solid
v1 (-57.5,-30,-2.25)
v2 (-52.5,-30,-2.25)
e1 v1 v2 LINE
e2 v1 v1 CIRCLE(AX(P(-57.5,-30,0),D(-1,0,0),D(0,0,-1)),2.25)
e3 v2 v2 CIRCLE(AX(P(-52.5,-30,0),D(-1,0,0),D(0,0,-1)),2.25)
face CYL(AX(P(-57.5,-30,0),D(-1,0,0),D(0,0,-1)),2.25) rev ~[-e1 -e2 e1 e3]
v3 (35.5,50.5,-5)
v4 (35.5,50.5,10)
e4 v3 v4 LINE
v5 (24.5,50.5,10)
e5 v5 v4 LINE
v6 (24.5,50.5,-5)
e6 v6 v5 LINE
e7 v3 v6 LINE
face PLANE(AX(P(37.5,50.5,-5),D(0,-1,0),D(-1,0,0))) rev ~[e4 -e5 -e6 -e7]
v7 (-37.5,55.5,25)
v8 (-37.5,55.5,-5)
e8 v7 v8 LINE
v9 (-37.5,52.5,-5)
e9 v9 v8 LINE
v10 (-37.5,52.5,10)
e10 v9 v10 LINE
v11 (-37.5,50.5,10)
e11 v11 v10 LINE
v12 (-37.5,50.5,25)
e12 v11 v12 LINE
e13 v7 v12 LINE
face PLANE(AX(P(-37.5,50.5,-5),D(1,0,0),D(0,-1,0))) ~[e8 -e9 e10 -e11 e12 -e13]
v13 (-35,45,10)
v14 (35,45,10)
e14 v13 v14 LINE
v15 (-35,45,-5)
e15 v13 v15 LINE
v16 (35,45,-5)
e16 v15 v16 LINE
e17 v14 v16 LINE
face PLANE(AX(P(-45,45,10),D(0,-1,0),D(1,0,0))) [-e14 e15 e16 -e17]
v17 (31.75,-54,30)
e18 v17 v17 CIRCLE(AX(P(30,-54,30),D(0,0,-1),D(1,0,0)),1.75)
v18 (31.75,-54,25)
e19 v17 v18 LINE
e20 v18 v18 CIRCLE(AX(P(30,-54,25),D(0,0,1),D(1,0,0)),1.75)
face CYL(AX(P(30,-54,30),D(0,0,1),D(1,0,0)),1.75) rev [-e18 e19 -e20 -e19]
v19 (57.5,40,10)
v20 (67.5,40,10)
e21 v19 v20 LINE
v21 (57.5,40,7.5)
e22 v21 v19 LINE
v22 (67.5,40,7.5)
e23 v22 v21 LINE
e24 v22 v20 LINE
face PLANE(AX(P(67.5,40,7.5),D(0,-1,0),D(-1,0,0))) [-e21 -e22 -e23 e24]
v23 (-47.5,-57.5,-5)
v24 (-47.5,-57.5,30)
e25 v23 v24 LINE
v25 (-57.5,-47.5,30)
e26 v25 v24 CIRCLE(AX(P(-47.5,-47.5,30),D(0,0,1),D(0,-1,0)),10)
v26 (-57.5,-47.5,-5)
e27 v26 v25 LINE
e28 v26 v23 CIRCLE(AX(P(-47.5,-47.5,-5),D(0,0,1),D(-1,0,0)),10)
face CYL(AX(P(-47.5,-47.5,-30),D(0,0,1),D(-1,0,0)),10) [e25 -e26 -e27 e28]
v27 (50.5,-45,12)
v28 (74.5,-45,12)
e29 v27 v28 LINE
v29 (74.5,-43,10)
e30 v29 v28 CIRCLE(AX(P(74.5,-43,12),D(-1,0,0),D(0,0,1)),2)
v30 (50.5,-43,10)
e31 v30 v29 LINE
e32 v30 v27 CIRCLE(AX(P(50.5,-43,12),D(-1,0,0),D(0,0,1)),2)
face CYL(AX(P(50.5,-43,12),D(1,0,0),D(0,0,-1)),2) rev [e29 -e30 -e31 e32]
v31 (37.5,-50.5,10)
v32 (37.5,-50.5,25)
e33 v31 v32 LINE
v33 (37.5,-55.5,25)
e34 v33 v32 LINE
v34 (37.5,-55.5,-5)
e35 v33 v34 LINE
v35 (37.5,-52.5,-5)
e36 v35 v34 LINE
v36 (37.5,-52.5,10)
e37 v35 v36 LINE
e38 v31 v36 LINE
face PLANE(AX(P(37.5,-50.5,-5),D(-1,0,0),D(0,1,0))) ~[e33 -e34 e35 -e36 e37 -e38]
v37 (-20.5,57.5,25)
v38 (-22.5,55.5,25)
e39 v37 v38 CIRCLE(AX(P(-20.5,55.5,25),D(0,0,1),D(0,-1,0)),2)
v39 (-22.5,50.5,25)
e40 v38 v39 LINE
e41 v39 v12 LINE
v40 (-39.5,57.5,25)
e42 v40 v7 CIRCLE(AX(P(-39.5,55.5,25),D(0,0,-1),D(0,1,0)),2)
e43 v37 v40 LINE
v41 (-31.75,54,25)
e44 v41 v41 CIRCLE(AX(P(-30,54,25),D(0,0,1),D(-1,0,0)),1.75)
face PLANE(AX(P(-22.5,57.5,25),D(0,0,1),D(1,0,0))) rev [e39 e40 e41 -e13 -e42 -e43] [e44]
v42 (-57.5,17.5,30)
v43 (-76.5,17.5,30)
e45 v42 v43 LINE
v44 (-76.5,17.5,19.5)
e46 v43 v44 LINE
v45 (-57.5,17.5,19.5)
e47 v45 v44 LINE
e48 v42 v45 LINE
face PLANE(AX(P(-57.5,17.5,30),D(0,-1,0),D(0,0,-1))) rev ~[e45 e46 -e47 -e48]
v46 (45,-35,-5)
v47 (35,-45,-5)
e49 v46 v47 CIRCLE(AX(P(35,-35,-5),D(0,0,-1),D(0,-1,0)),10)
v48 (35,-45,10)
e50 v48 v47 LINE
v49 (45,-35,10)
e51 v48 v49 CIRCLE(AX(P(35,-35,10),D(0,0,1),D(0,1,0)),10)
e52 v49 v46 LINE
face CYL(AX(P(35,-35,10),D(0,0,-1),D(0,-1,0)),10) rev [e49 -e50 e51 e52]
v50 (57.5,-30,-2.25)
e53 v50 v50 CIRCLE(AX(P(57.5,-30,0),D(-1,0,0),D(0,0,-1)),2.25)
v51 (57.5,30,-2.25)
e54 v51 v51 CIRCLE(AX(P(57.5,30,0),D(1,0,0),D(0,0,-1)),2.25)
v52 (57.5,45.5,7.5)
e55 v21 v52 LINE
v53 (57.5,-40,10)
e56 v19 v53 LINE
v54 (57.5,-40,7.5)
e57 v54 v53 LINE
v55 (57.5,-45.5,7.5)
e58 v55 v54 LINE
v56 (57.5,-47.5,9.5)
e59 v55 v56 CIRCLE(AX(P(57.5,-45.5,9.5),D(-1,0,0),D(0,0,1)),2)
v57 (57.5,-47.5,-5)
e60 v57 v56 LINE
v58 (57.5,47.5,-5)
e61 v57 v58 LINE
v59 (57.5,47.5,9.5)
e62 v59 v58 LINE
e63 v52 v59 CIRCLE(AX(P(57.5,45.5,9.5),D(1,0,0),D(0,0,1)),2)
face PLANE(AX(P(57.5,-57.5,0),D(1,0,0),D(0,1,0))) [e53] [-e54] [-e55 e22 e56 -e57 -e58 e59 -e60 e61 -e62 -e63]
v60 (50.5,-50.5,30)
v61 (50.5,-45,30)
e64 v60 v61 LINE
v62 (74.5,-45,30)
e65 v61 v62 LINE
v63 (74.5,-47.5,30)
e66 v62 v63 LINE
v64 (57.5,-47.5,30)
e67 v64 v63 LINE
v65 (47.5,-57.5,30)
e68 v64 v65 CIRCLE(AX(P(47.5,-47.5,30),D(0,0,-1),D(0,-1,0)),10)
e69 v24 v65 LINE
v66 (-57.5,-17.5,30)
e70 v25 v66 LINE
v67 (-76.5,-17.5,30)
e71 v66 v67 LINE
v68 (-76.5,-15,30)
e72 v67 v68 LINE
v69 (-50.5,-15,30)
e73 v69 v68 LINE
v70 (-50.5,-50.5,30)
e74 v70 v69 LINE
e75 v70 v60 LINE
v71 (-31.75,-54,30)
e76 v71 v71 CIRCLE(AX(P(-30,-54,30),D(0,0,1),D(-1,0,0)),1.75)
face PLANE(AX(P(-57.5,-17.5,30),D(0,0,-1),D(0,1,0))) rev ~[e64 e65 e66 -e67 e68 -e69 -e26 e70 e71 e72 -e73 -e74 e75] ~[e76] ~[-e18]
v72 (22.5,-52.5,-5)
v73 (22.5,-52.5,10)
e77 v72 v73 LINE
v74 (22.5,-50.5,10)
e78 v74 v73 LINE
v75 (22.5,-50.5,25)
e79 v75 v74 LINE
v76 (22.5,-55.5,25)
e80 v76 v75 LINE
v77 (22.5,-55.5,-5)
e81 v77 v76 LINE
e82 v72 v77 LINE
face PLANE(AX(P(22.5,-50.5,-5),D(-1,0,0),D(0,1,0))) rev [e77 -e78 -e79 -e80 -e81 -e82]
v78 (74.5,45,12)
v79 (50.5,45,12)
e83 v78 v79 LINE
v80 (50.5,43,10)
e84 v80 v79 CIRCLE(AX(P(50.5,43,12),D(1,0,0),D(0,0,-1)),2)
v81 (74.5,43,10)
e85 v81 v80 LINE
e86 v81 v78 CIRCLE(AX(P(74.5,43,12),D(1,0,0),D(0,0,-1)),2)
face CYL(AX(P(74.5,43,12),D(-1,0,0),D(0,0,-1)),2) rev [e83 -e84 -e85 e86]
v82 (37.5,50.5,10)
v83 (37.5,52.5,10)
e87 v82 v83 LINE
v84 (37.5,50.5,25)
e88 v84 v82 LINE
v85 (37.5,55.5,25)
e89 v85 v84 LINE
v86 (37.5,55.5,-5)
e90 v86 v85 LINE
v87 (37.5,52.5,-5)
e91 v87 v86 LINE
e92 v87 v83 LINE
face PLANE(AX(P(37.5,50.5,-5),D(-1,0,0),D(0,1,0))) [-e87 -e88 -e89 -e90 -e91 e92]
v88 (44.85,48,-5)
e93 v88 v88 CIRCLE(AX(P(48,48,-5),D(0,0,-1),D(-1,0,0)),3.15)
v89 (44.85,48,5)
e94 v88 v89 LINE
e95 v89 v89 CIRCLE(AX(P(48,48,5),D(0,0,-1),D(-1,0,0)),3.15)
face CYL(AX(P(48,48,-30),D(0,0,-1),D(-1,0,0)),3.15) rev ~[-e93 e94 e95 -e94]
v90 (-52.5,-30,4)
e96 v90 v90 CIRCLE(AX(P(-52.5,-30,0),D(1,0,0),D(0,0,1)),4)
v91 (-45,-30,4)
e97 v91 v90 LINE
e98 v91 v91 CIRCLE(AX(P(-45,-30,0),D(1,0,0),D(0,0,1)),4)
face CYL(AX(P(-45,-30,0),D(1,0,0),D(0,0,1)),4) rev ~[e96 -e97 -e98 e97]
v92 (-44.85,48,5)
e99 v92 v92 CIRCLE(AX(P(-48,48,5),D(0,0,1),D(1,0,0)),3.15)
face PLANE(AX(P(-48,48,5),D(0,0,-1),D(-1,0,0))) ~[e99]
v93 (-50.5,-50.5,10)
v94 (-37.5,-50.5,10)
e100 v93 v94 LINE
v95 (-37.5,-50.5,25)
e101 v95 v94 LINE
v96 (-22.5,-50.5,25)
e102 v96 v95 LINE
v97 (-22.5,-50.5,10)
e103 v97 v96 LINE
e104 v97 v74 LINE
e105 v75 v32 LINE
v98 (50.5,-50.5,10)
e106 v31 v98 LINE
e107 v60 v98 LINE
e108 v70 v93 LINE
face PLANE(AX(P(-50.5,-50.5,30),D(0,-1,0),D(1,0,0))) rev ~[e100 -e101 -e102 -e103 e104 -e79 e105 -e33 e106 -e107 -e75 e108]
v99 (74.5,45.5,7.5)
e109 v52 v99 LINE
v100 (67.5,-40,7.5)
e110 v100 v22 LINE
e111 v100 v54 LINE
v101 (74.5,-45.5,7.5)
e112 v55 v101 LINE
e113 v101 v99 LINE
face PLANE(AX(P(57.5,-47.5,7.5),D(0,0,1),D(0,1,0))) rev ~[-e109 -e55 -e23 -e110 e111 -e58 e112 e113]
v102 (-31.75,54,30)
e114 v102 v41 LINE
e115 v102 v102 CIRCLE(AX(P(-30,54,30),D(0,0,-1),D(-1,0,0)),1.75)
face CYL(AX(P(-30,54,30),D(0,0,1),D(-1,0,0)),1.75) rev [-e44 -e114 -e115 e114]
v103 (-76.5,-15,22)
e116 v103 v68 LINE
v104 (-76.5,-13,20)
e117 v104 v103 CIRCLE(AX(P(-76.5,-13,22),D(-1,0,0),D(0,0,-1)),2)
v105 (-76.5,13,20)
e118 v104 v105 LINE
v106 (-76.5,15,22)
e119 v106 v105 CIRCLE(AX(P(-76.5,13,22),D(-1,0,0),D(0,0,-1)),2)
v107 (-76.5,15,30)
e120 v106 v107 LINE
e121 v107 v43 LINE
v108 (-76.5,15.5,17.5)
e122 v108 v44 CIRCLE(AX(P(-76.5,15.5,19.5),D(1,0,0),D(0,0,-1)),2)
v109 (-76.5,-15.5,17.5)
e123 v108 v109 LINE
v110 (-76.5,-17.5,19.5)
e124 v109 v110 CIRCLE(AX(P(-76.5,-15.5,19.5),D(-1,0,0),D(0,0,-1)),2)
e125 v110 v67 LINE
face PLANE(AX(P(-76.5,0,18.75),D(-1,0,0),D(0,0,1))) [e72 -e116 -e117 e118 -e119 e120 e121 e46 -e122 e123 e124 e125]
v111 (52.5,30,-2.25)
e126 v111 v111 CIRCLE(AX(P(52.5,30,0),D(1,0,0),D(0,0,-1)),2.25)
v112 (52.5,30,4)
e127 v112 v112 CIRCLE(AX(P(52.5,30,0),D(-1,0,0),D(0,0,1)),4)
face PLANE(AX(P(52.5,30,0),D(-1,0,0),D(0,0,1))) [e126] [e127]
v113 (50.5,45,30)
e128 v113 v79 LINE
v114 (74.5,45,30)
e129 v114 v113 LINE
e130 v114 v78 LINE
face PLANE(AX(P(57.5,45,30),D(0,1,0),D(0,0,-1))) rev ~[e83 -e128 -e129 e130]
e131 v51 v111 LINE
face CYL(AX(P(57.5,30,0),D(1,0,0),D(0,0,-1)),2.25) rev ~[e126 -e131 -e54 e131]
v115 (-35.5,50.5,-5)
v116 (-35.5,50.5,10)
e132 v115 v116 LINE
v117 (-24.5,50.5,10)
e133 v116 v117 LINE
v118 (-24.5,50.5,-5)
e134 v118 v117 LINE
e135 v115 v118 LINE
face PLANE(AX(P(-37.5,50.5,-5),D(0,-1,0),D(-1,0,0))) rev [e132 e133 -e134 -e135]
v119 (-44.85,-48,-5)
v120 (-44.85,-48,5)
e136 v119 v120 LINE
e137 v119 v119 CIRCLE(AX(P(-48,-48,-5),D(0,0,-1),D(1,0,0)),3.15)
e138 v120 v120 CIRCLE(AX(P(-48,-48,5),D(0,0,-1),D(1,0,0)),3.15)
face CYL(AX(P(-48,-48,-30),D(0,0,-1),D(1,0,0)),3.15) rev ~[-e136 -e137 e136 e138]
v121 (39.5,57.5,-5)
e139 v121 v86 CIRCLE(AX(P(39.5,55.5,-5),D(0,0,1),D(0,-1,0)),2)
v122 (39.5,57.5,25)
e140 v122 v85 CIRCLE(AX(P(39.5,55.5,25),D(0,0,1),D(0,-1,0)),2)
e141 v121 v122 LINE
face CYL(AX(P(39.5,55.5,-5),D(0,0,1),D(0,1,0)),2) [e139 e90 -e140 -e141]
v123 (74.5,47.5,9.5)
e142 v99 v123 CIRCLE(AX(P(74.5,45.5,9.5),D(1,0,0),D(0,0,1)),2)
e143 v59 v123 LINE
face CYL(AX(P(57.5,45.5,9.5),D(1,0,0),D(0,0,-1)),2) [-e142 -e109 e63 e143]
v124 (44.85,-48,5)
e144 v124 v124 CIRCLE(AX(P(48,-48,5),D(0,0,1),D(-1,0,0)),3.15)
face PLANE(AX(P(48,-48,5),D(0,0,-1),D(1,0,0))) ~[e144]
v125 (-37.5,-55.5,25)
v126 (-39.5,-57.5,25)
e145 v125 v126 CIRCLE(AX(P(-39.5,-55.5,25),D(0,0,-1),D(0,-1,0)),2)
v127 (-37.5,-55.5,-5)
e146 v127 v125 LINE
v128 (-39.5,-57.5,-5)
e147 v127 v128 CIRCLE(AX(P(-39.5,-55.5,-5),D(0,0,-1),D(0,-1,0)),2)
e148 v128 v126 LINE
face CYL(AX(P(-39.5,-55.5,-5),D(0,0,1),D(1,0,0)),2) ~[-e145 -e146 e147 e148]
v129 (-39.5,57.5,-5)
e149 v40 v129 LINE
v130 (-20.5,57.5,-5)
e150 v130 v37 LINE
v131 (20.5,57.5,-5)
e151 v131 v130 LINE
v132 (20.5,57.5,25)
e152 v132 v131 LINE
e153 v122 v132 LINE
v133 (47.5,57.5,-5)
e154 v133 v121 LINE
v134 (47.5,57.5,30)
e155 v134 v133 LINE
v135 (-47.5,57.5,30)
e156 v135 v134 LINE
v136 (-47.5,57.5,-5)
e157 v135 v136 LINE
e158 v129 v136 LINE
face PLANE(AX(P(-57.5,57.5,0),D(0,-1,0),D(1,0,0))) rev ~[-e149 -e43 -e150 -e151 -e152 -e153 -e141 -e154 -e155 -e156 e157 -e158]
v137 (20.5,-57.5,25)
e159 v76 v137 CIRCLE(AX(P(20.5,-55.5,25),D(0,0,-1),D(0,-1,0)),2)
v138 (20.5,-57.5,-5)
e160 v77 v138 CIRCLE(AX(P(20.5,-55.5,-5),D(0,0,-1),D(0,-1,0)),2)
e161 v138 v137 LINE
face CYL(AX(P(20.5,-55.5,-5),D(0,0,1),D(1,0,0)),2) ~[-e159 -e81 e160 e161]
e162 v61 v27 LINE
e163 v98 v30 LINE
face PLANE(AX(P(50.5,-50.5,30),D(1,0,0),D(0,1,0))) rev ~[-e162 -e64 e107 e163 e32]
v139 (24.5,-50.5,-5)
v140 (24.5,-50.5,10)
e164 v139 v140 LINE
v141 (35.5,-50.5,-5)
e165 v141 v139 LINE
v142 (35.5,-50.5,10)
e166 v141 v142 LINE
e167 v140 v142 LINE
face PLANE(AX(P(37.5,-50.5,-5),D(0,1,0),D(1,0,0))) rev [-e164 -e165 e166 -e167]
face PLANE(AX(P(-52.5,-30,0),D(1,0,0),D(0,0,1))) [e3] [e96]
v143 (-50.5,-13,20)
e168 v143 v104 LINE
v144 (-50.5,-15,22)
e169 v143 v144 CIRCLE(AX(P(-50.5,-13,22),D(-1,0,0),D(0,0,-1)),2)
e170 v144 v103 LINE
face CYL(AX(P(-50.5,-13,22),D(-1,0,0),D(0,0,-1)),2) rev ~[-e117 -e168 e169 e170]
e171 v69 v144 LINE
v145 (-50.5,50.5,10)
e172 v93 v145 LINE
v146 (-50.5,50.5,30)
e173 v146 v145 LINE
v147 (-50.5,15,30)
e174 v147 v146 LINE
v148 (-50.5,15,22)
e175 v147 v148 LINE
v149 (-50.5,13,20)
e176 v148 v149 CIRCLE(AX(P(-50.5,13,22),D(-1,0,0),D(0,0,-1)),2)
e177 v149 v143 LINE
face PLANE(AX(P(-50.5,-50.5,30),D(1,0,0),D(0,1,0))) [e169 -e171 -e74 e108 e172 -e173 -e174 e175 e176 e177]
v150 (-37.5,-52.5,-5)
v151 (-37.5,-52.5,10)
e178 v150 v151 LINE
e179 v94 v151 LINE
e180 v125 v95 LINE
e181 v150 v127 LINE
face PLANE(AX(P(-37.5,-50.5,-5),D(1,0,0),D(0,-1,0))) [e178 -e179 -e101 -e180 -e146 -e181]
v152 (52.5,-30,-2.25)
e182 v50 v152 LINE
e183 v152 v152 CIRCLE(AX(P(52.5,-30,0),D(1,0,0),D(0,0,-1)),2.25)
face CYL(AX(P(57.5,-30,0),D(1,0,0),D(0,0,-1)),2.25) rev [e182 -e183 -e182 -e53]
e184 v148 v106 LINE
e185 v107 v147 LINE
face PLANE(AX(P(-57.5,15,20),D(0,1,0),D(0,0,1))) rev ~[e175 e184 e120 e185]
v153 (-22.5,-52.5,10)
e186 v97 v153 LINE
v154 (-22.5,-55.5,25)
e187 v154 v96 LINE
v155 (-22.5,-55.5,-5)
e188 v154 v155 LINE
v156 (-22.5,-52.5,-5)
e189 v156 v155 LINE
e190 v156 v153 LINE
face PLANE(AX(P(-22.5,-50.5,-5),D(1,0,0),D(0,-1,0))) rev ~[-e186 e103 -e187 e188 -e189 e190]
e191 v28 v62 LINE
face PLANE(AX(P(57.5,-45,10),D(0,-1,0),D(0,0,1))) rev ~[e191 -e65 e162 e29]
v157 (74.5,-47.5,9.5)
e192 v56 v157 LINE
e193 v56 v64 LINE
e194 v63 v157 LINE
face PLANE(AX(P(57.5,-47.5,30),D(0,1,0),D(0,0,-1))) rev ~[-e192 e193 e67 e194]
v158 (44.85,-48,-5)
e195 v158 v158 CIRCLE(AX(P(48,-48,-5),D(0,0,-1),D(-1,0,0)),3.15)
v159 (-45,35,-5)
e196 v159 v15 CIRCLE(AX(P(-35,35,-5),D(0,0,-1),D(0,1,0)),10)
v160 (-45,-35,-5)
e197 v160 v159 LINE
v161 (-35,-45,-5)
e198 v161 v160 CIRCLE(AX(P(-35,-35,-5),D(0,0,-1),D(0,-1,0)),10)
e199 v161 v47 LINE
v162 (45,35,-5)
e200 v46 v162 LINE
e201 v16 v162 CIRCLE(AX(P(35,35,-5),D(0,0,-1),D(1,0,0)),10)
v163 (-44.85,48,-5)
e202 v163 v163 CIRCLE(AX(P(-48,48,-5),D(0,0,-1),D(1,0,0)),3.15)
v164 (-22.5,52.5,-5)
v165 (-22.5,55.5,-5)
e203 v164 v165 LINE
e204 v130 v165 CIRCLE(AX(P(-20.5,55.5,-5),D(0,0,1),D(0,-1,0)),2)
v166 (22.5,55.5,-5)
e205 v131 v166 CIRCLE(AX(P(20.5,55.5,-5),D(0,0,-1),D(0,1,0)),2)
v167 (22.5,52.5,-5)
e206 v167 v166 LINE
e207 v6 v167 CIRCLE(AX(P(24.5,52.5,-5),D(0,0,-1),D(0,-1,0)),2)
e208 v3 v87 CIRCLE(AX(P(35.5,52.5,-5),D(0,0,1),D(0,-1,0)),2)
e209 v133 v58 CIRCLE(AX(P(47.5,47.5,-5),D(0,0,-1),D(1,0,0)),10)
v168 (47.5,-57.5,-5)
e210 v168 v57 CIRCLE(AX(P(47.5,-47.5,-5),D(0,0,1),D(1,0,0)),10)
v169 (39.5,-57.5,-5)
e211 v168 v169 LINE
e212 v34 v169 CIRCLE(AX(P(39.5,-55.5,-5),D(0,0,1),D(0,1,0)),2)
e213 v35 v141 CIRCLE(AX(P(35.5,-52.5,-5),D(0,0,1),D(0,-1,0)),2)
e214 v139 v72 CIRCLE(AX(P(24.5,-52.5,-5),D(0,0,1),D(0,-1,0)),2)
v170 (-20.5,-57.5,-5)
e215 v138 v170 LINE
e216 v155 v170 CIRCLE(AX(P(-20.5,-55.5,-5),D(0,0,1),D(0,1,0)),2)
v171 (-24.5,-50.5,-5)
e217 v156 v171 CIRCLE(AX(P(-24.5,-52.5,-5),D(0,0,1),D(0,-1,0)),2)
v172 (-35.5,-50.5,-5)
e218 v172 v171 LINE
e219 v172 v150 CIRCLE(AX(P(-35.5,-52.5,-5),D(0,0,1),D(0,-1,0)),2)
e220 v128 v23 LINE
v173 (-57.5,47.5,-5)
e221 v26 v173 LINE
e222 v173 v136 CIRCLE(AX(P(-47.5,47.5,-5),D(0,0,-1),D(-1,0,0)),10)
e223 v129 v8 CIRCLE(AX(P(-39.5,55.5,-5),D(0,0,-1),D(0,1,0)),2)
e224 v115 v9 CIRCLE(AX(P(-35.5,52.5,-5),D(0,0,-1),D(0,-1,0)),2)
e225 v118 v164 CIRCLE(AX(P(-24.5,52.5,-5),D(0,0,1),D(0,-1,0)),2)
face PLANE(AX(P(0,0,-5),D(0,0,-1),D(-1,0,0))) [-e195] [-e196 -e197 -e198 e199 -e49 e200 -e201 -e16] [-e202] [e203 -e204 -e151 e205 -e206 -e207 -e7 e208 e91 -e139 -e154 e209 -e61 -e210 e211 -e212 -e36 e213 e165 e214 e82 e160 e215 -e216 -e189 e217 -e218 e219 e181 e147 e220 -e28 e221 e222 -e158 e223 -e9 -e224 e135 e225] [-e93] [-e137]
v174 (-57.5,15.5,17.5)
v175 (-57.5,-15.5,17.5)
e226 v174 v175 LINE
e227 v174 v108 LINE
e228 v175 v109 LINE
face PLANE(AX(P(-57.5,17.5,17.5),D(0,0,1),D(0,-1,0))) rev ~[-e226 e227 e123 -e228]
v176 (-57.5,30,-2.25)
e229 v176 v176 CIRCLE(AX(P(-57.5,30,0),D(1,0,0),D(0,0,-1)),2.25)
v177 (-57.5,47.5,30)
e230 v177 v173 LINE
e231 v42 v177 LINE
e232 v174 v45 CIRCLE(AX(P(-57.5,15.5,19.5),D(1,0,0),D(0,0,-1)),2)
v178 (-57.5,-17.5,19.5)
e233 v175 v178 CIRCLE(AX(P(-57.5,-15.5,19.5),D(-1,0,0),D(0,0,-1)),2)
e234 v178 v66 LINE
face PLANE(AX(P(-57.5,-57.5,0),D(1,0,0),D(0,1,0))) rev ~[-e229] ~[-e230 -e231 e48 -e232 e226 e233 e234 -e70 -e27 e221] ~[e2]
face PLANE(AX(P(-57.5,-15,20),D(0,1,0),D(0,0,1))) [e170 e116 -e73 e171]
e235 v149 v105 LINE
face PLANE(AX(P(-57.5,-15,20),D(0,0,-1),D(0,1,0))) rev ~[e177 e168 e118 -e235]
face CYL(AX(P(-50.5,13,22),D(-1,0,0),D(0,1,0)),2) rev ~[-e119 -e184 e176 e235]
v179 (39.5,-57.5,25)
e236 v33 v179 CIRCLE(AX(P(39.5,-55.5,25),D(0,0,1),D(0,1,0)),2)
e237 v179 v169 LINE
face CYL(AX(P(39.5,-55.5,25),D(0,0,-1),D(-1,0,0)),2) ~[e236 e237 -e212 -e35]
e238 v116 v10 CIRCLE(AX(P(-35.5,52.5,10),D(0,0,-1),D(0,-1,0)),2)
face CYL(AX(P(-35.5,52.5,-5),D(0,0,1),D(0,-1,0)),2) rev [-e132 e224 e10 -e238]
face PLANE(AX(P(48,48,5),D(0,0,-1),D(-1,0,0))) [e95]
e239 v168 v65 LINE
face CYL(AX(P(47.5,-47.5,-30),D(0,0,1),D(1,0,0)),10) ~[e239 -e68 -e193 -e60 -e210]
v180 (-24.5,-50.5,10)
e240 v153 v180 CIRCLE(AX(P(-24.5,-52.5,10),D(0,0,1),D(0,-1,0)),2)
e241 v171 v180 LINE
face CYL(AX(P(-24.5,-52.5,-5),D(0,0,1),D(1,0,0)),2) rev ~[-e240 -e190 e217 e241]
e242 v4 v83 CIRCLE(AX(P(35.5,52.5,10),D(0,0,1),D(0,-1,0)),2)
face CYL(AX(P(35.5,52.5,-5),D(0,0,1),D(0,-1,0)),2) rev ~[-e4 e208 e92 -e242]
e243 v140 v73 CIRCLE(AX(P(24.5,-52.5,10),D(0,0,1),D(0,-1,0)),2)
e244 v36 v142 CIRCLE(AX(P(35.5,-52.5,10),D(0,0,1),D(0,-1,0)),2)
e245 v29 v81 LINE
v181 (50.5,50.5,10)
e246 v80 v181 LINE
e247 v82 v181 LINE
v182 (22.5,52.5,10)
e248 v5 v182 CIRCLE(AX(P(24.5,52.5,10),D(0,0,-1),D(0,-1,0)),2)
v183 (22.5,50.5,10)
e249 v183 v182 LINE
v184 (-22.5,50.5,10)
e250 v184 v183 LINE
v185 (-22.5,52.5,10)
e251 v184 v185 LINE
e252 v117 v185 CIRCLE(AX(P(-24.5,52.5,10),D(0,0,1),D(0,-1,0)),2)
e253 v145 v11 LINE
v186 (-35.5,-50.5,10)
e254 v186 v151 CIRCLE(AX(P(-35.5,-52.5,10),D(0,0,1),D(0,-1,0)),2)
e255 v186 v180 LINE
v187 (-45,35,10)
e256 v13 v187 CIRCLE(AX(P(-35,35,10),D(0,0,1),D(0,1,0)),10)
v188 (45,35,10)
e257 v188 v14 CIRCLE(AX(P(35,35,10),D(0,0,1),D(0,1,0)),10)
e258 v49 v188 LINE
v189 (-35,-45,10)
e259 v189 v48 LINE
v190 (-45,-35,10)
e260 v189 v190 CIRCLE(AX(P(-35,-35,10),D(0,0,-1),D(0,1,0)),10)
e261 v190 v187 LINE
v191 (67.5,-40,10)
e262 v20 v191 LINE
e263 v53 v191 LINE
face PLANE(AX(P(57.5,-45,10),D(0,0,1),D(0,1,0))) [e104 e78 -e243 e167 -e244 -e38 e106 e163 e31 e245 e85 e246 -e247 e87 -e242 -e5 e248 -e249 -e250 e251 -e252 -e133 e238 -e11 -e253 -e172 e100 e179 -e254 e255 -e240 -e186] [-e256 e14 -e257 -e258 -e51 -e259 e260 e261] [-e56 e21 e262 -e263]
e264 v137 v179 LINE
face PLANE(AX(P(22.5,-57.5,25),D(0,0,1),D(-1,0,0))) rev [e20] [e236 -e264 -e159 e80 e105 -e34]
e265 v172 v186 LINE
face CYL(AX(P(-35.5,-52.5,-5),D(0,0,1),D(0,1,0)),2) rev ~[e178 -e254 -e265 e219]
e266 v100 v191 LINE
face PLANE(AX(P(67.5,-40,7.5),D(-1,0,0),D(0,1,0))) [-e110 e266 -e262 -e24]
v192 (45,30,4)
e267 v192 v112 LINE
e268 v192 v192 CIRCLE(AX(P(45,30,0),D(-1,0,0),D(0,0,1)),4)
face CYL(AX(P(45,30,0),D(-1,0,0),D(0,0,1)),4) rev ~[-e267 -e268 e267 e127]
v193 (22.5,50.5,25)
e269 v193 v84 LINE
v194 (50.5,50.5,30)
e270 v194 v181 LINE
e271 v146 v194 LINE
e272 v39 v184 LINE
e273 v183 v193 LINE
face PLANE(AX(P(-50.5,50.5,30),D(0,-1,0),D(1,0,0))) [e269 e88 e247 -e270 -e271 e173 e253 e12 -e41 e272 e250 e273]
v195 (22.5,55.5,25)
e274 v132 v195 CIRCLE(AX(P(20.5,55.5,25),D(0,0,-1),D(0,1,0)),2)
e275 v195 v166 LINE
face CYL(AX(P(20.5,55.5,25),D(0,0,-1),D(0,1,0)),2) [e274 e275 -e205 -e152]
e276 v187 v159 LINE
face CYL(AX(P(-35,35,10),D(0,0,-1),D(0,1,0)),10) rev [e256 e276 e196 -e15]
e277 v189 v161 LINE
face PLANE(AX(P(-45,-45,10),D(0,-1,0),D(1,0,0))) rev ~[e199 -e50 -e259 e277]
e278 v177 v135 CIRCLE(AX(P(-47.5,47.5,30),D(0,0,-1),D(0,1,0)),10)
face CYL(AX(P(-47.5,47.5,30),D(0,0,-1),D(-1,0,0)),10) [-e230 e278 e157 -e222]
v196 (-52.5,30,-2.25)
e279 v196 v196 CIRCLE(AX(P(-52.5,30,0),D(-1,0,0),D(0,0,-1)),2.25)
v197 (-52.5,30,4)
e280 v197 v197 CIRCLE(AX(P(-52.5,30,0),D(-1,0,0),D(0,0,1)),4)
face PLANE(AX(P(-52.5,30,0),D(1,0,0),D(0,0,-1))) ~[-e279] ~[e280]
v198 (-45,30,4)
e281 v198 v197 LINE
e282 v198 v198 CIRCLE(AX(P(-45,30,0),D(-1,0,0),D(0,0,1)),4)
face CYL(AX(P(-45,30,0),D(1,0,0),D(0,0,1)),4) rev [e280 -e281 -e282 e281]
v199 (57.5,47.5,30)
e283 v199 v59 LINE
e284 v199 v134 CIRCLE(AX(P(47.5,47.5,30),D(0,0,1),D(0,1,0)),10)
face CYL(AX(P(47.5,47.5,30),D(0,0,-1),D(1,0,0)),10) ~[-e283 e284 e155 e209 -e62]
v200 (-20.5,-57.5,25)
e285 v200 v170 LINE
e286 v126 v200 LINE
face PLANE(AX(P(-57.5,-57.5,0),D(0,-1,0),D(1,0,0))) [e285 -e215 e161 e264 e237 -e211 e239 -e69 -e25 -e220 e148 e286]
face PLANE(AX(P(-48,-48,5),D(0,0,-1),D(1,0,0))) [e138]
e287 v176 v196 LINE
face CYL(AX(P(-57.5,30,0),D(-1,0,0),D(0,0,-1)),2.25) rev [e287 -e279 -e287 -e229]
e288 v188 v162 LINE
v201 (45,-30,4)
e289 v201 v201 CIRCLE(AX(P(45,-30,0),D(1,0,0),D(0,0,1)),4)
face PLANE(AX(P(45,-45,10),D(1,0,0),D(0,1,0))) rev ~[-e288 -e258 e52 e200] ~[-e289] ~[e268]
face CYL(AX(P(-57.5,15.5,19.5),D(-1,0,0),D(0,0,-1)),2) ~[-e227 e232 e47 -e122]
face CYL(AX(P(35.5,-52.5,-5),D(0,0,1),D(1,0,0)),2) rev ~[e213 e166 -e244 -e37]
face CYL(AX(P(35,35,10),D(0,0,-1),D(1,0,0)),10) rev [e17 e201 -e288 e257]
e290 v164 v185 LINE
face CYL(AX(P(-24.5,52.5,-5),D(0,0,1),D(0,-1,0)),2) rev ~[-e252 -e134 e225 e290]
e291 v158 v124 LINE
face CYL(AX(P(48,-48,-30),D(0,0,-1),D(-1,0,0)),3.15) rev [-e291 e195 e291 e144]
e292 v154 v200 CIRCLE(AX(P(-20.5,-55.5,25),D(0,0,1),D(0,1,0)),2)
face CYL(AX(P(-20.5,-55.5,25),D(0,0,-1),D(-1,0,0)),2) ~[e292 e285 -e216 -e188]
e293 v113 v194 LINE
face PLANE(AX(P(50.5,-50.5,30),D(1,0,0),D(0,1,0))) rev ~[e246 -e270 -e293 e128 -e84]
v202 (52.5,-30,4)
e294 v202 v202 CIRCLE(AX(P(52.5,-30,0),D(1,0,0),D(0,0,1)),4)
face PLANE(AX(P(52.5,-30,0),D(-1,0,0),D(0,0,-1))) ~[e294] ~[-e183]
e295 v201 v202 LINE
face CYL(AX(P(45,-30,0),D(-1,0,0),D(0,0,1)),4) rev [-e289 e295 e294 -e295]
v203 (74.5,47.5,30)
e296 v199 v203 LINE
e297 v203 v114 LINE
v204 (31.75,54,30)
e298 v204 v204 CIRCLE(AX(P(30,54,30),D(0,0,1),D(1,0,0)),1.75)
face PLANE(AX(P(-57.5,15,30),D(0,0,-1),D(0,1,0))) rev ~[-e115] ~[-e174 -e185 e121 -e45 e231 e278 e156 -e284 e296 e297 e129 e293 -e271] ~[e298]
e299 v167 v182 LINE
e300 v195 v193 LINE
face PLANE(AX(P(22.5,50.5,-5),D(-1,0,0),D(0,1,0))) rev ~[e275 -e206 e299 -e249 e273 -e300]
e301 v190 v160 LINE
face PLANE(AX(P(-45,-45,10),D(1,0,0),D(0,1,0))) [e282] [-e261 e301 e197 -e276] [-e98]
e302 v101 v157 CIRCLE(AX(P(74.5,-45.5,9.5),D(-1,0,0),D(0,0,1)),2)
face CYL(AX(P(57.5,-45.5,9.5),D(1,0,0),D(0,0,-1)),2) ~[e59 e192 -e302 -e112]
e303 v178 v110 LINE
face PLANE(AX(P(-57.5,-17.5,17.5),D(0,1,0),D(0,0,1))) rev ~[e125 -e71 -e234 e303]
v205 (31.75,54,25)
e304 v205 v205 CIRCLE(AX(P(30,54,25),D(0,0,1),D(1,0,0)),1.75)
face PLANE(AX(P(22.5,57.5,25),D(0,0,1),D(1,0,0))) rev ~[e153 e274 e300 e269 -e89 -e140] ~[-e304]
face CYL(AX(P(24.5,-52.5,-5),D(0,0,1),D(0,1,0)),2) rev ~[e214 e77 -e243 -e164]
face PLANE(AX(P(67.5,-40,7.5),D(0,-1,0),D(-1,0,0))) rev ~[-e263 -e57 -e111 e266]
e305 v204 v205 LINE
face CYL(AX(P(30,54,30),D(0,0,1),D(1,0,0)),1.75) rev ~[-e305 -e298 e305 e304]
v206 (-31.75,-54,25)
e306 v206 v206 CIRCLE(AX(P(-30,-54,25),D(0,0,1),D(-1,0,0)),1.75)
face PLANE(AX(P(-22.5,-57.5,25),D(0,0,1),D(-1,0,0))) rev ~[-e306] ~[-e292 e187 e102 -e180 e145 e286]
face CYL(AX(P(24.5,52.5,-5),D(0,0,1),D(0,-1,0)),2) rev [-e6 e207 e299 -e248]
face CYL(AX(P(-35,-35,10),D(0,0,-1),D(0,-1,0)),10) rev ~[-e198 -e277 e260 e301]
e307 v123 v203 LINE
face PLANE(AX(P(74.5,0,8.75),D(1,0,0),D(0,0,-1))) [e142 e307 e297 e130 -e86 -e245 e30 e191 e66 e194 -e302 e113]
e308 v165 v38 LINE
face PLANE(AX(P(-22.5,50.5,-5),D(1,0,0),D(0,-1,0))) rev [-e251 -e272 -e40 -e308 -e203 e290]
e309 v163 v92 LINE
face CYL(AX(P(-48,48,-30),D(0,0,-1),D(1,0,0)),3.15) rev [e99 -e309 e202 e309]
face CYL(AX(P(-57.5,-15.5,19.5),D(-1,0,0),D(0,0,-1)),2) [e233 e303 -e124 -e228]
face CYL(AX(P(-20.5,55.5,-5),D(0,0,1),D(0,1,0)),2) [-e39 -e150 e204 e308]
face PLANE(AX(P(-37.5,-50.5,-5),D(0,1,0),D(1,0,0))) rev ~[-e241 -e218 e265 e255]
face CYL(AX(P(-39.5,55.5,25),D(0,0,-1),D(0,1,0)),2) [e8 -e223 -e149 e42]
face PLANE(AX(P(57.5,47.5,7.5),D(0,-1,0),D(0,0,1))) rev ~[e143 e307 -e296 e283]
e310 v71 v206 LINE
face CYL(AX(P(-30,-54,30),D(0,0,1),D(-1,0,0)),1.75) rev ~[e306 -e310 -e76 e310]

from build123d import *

# Parameters (mm, degrees)
SKETCH1_W                                  = 115
SKETCH1_H                                  = 115
BOSS_EXTRUDE1_DEPTH                        = 30
FILLET1_R                                  = 10
SKETCH4_W                                  = 101
SKETCH4_H                                  = 101
CUT_EXTRUDE3_DEPTH                         = 20
SKETCH7_W                                  = 90
SKETCH7_H                                  = 90
CUT_EXTRUDE5_DEPTH                         = 60
FILLET3_R                                  = 10
SKETCH8_R                                  = 3.15
CUT_EXTRUDE6_DEPTH                         = 35
MIRROR2_AT_THE_SECOND_PLANE_COPY_1_SKETC_R = 3.15
MIRROR2_AT_THE_SECOND_PLANE_COPY_1_DEPTH   = 35
SKETCH11_W                                 = 40
SKETCH11_H                                 = 90
CUT_EXTRUDE9_DEPTH                         = 11
SKETCH13_W                                 = 2.5
SKETCH13_H                                 = 90
BOSS_EXTRUDE2_DEPTH                        = 17
FILLET6_R                                  = 2
SKETCH14_W                                 = 20
SKETCH14_H                                 = 30
CUT_EXTRUDE10_DEPTH                        = 11
SKETCH15_W                                 = 10
SKETCH15_H                                 = 2.5
BOSS_EXTRUDE3_DEPTH                        = 19
FILLET7_R                                  = 2
SKETCH16_W                                 = 115
SKETCH16_H                                 = 115
CUT_EXTRUDE12_DEPTH                        = 25
SKETCH17_W                                 = 10
SKETCH17_H                                 = 80
CUT_EXTRUDE13_DEPTH                        = 15
SKETCH20_R                                 = 2.25
CUT_EXTRUDE14_DEPTH                        = 25
MIRROR8_AT_THE_SECOND_PLANE_COPY_1_SKETC_R = 2.25
MIRROR8_AT_THE_SECOND_PLANE_COPY_1_DEPTH   = 25
SKETCH21_R                                 = 1.75
CUT_EXTRUDE15_DEPTH                        = 20
MIRROR9_AT_THE_SECOND_PLANE_COPY_1_SKETC_R = 1.75
MIRROR9_AT_THE_SECOND_PLANE_COPY_1_DEPTH   = 20
SKETCH24_W                                 = 15
SKETCH24_H                                 = 25
CUT_EXTRUDE16_DEPTH                        = 7
MIRROR10_AT_THE_SECOND_PLANE_COPY_1_SKET_W = 15
MIRROR10_AT_THE_SECOND_PLANE_COPY_1_SKET_H = 25
MIRROR10_AT_THE_SECOND_PLANE_COPY_1_DEPTH  = 7
SKETCH25_R                                 = 4
CUT_EXTRUDE17_DEPTH                        = 7.5
MIRROR11_AT_THE_SECOND_PLANE_COPY_1_SKET_R = 4
MIRROR11_AT_THE_SECOND_PLANE_COPY_1_DEPTH  = 7.5
SKETCH28_W                                 = 15
SKETCH28_H                                 = 14
CUT_EXTRUDE20_DEPTH                        = 20
MIRROR12_AT_THE_SECOND_PLANE_COPY_1_SKET_W = 15
MIRROR12_AT_THE_SECOND_PLANE_COPY_1_SKET_H = 14
MIRROR12_AT_THE_SECOND_PLANE_COPY_1_DEPTH  = 20
FILLET8_R                                  = 2


with BuildPart() as part:
    # Sketch1 → Boss-Extrude1 (new, symmetric)
    with BuildSketch(Plane.XY):
        Rectangle(SKETCH1_W, SKETCH1_H)
    extrude(amount=BOSS_EXTRUDE1_DEPTH, both=True)

    # Fillet1
    fillet1_edges = [part.edges().sort_by_distance(p)[0] for p in [
        (-57.5, 57.5, 0),
        (57.5, 57.5, 0),
        (57.5, -57.5, 0),
        (-57.5, -57.5, 0),
    ]]
    fillet(fillet1_edges, radius=FILLET1_R)

    # Sketch4 → Cut-Extrude3 (cut)
    with BuildSketch(Plane.XY.offset(30)):
        Rectangle(SKETCH4_W, SKETCH4_H)
    extrude(amount=-CUT_EXTRUDE3_DEPTH, mode=Mode.SUBTRACT)

    # Sketch7 → Cut-Extrude5 (cut)
    with BuildSketch(Plane.XY.offset(10)):
        Rectangle(SKETCH7_W, SKETCH7_H)
    extrude(amount=-CUT_EXTRUDE5_DEPTH, mode=Mode.SUBTRACT)

    # Fillet3
    fillet3_edges = [part.edges().sort_by_distance(p)[0] for p in [
        (-45, -45, -10),
        (-45, 45, -10),
        (45, 45, -10),
        (45, -45, -10),
    ]]
    fillet(fillet3_edges, radius=FILLET3_R)

    # Sketch8 → Cut-Extrude6 (cut)
    with BuildSketch(Plane(origin=(0, 0, -30), x_dir=(-1, 0, 0), z_dir=(0, 0, -1))):
        with Locations((-48, 48)):
            Circle(SKETCH8_R)
    cut_extrude6 = extrude(amount=-CUT_EXTRUDE6_DEPTH, mode=Mode.SUBTRACT)

    # Mirror2: Cut-Extrude6 across plane
    add(cut_extrude6.mirror(Plane.ZX), mode=Mode.SUBTRACT)

    # Mirror2 at the second plane: Cut-Extrude6 across plane
    add(cut_extrude6.mirror(Plane(origin=(0, 0, 0), x_dir=(0, 0, 1), z_dir=(1, 0, 0))), mode=Mode.SUBTRACT)

    # Mirror2 at the second plane copy 1 sketc → Mirror2 at the second plane copy 1 (cut)
    with BuildSketch(Plane(origin=(0, 0, -30), x_dir=(1, 0, 0), z_dir=(0, 0, -1))):
        with Locations((-48, 48)):
            Circle(MIRROR2_AT_THE_SECOND_PLANE_COPY_1_SKETC_R)
    extrude(amount=-MIRROR2_AT_THE_SECOND_PLANE_COPY_1_DEPTH, mode=Mode.SUBTRACT)

    # Sketch11 → Cut-Extrude9 (cut)
    with BuildSketch(Plane(origin=(57.5, 0, 0), x_dir=(0, 0, -1), z_dir=(1, 0, 0))):
        with Locations((-30, 0)):
            Rectangle(SKETCH11_W, SKETCH11_H)
    extrude(amount=-CUT_EXTRUDE9_DEPTH, mode=Mode.SUBTRACT)

    # Sketch13 → Boss-Extrude2 (add)
    with BuildSketch(Plane(origin=(57.5, 0, 0), x_dir=(0, 0, -1), z_dir=(1, 0, 0))):
        with Locations((-8.75, 0)):
            Rectangle(SKETCH13_W, SKETCH13_H)
        Polygon((-7.5, -45), (-10, -45), (-30, -45), (-30, -47.5), (-7.5, -47.5), align=None)
        Polygon((-30, 45), (-10, 45), (-7.5, 45), (-7.5, 47.5), (-30, 47.5), align=None)
    extrude(amount=BOSS_EXTRUDE2_DEPTH)

    # Fillet6
    fillet6_edges = [part.edges().sort_by_distance(p)[0] for p in [
        (62.5, 45, 10),
        (62.5, -45, 10),
        (66, -47.5, 7.5),
        (66, 47.5, 7.5),
    ]]
    fillet(fillet6_edges, radius=FILLET6_R)

    # Sketch14 → Cut-Extrude10 (cut)
    with BuildSketch(Plane.ZY.offset(57.5)):
        with Locations((30, 0)):
            Rectangle(SKETCH14_W, SKETCH14_H)
    extrude(amount=-CUT_EXTRUDE10_DEPTH, mode=Mode.SUBTRACT)

    # Sketch15 → Boss-Extrude3 (add)
    with BuildSketch(Plane.ZY.offset(57.5)):
        Polygon((20, -15), (20, 15), (20, 17.5), (17.5, 17.5), (17.5, -17.5), (20, -17.5), align=None)
        with Locations((25, 16.25)):
            Rectangle(SKETCH15_W, SKETCH15_H)
        with Locations((25, -16.25)):
            Rectangle(SKETCH15_W, SKETCH15_H)
    extrude(amount=BOSS_EXTRUDE3_DEPTH)

    # Fillet7
    fillet7_edges = [part.edges().sort_by_distance(p)[0] for p in [
        (-63.5, -15, 20),
        (-63.5, 15, 20),
        (-67, 17.5, 17.5),
        (-67, -17.5, 17.5),
    ]]
    fillet(fillet7_edges, radius=FILLET7_R)

    # Sketch16 → Cut-Extrude12 (cut)
    with BuildSketch(Plane(origin=(0, 0, -30), x_dir=(-1, 0, 0), z_dir=(0, 0, -1))):
        Rectangle(SKETCH16_W, SKETCH16_H)
    extrude(amount=-CUT_EXTRUDE12_DEPTH, mode=Mode.SUBTRACT)

    # Sketch17 → Cut-Extrude13 (cut)
    with BuildSketch(Plane(origin=(0, 0, 7.5), x_dir=(-1, 0, 0), z_dir=(0, 0, -1))):
        with Locations((-62.5, 0)):
            Rectangle(SKETCH17_W, SKETCH17_H)
    extrude(amount=-CUT_EXTRUDE13_DEPTH, mode=Mode.SUBTRACT)

    # Sketch20 → Cut-Extrude14 (cut)
    with BuildSketch(Plane(origin=(57.5, 0, 0), x_dir=(0, 0, -1), z_dir=(1, 0, 0))):
        with Locations((0, 30)):
            Circle(SKETCH20_R)
    cut_extrude14 = extrude(amount=-CUT_EXTRUDE14_DEPTH, mode=Mode.SUBTRACT)

    # Mirror8: Cut-Extrude14 across plane
    add(cut_extrude14.mirror(Plane(origin=(0, 0, 0), x_dir=(0, 0, 1), z_dir=(1, 0, 0))), mode=Mode.SUBTRACT)

    # Mirror8 at the second plane: Cut-Extrude14 across plane
    add(cut_extrude14.mirror(Plane.ZX), mode=Mode.SUBTRACT)

    # Mirror8 at the second plane copy 1 sketc → Mirror8 at the second plane copy 1 (cut)
    with BuildSketch(Plane(origin=(-57.5, 0, 0), x_dir=(0, 0, -1), z_dir=(-1, 0, 0))):
        with Locations((0, 30)):
            Circle(MIRROR8_AT_THE_SECOND_PLANE_COPY_1_SKETC_R)
    extrude(amount=-MIRROR8_AT_THE_SECOND_PLANE_COPY_1_DEPTH, mode=Mode.SUBTRACT)

    # Sketch21 → Cut-Extrude15 (cut)
    with BuildSketch(Plane.XY.offset(30)):
        with Locations((30, 54)):
            Circle(SKETCH21_R)
    cut_extrude15 = extrude(amount=-CUT_EXTRUDE15_DEPTH, mode=Mode.SUBTRACT)

    # Mirror9: Cut-Extrude15 across plane
    add(cut_extrude15.mirror(Plane.ZX), mode=Mode.SUBTRACT)

    # Mirror9 at the second plane: Cut-Extrude15 across plane
    add(cut_extrude15.mirror(Plane(origin=(0, 0, 0), x_dir=(0, 0, 1), z_dir=(1, 0, 0))), mode=Mode.SUBTRACT)

    # Mirror9 at the second plane copy 1 sketc → Mirror9 at the second plane copy 1 (cut)
    with BuildSketch(Plane(origin=(0, 0, 30), x_dir=(-1, 0, 0), z_dir=(0, 0, 1))):
        with Locations((30, 54)):
            Circle(MIRROR9_AT_THE_SECOND_PLANE_COPY_1_SKETC_R)
    extrude(amount=-MIRROR9_AT_THE_SECOND_PLANE_COPY_1_DEPTH, mode=Mode.SUBTRACT)

    # Sketch24 → Cut-Extrude16 (cut)
    with BuildSketch(Plane(origin=(0, 57.5, 0), x_dir=(1, 0, 0), z_dir=(0, 1, 0))):
        with Locations((30, -12.5)):
            Rectangle(SKETCH24_W, SKETCH24_H)
    cut_extrude16 = extrude(amount=-CUT_EXTRUDE16_DEPTH, mode=Mode.SUBTRACT)

    # Mirror10: Cut-Extrude16 across plane
    add(cut_extrude16.mirror(Plane(origin=(0, 0, 0), x_dir=(0, 0, 1), z_dir=(1, 0, 0))), mode=Mode.SUBTRACT)

    # Mirror10 at the second plane: Cut-Extrude16 across plane
    add(cut_extrude16.mirror(Plane.ZX), mode=Mode.SUBTRACT)

    # Mirror10 at the second plane copy 1 sket → Mirror10 at the second plane copy 1 (cut)
    with BuildSketch(Plane(origin=(0, -57.5, 0), x_dir=(-1, 0, 0), z_dir=(0, -1, 0))):
        with Locations((30, -12.5)):
            Rectangle(MIRROR10_AT_THE_SECOND_PLANE_COPY_1_SKET_W, MIRROR10_AT_THE_SECOND_PLANE_COPY_1_SKET_H)
    extrude(amount=-MIRROR10_AT_THE_SECOND_PLANE_COPY_1_DEPTH, mode=Mode.SUBTRACT)

    # Sketch25 → Cut-Extrude17 (cut)
    with BuildSketch(Plane.ZY.offset(-45)):
        with Locations((0, 30)):
            Circle(SKETCH25_R)
    cut_extrude17 = extrude(amount=-CUT_EXTRUDE17_DEPTH, mode=Mode.SUBTRACT)

    # Mirror11: Cut-Extrude17 across plane
    add(cut_extrude17.mirror(Plane.ZX), mode=Mode.SUBTRACT)

    # Mirror11 at the second plane: Cut-Extrude17 across plane
    add(cut_extrude17.mirror(Plane(origin=(0, 0, 0), x_dir=(0, 0, 1), z_dir=(1, 0, 0))), mode=Mode.SUBTRACT)

    # Mirror11 at the second plane copy 1 sket → Mirror11 at the second plane copy 1 (cut)
    with BuildSketch(Plane(origin=(-45, 0, 0), x_dir=(0, 0, 1), z_dir=(1, 0, 0))):
        with Locations((0, 30)):
            Circle(MIRROR11_AT_THE_SECOND_PLANE_COPY_1_SKET_R)
    extrude(amount=-MIRROR11_AT_THE_SECOND_PLANE_COPY_1_DEPTH, mode=Mode.SUBTRACT)

    # Sketch28 → Cut-Extrude20 (cut)
    with BuildSketch(Plane(origin=(0, 0, -5), x_dir=(-1, 0, 0), z_dir=(0, 0, -1))):
        with Locations((-30, 57.5)):
            Rectangle(SKETCH28_W, SKETCH28_H)
    cut_extrude20 = extrude(amount=-CUT_EXTRUDE20_DEPTH, mode=Mode.SUBTRACT)

    # Mirror12: Cut-Extrude20 across plane
    add(cut_extrude20.mirror(Plane.ZX), mode=Mode.SUBTRACT)

    # Mirror12 at the second plane: Cut-Extrude20 across plane
    add(cut_extrude20.mirror(Plane(origin=(0, 0, 0), x_dir=(0, 0, 1), z_dir=(1, 0, 0))), mode=Mode.SUBTRACT)

    # Mirror12 at the second plane copy 1 sket → Mirror12 at the second plane copy 1 (cut)
    with BuildSketch(Plane(origin=(0, 0, -5), x_dir=(1, 0, 0), z_dir=(0, 0, -1))):
        with Locations((-30, 57.5)):
            Rectangle(MIRROR12_AT_THE_SECOND_PLANE_COPY_1_SKET_W, MIRROR12_AT_THE_SECOND_PLANE_COPY_1_SKET_H)
    extrude(amount=-MIRROR12_AT_THE_SECOND_PLANE_COPY_1_DEPTH, mode=Mode.SUBTRACT)

    # Fillet8
    fillet8_edges = [part.edges().sort_by_distance(p)[0] for p in [
        (37.5, 50.5, 2.5),
        (22.5, 50.5, 2.5),
        (37.5, 57.5, 10),
        (22.5, 57.5, 10),
        (37.5, -57.5, 10),
        (22.5, -57.5, 10),
        (22.5, -50.5, 2.5),
        (37.5, -50.5, 2.5),
        (-37.5, 57.5, 10),
        (-22.5, 57.5, 10),
        (-22.5, 50.5, 2.5),
        (-37.5, 50.5, 2.5),
        (-37.5, -50.5, 2.5),
        (-22.5, -50.5, 2.5),
        (-37.5, -57.5, 10),
        (-22.5, -57.5, 10),
    ]]
    fillet(fillet8_edges, radius=FILLET8_R)


solid = part.part
